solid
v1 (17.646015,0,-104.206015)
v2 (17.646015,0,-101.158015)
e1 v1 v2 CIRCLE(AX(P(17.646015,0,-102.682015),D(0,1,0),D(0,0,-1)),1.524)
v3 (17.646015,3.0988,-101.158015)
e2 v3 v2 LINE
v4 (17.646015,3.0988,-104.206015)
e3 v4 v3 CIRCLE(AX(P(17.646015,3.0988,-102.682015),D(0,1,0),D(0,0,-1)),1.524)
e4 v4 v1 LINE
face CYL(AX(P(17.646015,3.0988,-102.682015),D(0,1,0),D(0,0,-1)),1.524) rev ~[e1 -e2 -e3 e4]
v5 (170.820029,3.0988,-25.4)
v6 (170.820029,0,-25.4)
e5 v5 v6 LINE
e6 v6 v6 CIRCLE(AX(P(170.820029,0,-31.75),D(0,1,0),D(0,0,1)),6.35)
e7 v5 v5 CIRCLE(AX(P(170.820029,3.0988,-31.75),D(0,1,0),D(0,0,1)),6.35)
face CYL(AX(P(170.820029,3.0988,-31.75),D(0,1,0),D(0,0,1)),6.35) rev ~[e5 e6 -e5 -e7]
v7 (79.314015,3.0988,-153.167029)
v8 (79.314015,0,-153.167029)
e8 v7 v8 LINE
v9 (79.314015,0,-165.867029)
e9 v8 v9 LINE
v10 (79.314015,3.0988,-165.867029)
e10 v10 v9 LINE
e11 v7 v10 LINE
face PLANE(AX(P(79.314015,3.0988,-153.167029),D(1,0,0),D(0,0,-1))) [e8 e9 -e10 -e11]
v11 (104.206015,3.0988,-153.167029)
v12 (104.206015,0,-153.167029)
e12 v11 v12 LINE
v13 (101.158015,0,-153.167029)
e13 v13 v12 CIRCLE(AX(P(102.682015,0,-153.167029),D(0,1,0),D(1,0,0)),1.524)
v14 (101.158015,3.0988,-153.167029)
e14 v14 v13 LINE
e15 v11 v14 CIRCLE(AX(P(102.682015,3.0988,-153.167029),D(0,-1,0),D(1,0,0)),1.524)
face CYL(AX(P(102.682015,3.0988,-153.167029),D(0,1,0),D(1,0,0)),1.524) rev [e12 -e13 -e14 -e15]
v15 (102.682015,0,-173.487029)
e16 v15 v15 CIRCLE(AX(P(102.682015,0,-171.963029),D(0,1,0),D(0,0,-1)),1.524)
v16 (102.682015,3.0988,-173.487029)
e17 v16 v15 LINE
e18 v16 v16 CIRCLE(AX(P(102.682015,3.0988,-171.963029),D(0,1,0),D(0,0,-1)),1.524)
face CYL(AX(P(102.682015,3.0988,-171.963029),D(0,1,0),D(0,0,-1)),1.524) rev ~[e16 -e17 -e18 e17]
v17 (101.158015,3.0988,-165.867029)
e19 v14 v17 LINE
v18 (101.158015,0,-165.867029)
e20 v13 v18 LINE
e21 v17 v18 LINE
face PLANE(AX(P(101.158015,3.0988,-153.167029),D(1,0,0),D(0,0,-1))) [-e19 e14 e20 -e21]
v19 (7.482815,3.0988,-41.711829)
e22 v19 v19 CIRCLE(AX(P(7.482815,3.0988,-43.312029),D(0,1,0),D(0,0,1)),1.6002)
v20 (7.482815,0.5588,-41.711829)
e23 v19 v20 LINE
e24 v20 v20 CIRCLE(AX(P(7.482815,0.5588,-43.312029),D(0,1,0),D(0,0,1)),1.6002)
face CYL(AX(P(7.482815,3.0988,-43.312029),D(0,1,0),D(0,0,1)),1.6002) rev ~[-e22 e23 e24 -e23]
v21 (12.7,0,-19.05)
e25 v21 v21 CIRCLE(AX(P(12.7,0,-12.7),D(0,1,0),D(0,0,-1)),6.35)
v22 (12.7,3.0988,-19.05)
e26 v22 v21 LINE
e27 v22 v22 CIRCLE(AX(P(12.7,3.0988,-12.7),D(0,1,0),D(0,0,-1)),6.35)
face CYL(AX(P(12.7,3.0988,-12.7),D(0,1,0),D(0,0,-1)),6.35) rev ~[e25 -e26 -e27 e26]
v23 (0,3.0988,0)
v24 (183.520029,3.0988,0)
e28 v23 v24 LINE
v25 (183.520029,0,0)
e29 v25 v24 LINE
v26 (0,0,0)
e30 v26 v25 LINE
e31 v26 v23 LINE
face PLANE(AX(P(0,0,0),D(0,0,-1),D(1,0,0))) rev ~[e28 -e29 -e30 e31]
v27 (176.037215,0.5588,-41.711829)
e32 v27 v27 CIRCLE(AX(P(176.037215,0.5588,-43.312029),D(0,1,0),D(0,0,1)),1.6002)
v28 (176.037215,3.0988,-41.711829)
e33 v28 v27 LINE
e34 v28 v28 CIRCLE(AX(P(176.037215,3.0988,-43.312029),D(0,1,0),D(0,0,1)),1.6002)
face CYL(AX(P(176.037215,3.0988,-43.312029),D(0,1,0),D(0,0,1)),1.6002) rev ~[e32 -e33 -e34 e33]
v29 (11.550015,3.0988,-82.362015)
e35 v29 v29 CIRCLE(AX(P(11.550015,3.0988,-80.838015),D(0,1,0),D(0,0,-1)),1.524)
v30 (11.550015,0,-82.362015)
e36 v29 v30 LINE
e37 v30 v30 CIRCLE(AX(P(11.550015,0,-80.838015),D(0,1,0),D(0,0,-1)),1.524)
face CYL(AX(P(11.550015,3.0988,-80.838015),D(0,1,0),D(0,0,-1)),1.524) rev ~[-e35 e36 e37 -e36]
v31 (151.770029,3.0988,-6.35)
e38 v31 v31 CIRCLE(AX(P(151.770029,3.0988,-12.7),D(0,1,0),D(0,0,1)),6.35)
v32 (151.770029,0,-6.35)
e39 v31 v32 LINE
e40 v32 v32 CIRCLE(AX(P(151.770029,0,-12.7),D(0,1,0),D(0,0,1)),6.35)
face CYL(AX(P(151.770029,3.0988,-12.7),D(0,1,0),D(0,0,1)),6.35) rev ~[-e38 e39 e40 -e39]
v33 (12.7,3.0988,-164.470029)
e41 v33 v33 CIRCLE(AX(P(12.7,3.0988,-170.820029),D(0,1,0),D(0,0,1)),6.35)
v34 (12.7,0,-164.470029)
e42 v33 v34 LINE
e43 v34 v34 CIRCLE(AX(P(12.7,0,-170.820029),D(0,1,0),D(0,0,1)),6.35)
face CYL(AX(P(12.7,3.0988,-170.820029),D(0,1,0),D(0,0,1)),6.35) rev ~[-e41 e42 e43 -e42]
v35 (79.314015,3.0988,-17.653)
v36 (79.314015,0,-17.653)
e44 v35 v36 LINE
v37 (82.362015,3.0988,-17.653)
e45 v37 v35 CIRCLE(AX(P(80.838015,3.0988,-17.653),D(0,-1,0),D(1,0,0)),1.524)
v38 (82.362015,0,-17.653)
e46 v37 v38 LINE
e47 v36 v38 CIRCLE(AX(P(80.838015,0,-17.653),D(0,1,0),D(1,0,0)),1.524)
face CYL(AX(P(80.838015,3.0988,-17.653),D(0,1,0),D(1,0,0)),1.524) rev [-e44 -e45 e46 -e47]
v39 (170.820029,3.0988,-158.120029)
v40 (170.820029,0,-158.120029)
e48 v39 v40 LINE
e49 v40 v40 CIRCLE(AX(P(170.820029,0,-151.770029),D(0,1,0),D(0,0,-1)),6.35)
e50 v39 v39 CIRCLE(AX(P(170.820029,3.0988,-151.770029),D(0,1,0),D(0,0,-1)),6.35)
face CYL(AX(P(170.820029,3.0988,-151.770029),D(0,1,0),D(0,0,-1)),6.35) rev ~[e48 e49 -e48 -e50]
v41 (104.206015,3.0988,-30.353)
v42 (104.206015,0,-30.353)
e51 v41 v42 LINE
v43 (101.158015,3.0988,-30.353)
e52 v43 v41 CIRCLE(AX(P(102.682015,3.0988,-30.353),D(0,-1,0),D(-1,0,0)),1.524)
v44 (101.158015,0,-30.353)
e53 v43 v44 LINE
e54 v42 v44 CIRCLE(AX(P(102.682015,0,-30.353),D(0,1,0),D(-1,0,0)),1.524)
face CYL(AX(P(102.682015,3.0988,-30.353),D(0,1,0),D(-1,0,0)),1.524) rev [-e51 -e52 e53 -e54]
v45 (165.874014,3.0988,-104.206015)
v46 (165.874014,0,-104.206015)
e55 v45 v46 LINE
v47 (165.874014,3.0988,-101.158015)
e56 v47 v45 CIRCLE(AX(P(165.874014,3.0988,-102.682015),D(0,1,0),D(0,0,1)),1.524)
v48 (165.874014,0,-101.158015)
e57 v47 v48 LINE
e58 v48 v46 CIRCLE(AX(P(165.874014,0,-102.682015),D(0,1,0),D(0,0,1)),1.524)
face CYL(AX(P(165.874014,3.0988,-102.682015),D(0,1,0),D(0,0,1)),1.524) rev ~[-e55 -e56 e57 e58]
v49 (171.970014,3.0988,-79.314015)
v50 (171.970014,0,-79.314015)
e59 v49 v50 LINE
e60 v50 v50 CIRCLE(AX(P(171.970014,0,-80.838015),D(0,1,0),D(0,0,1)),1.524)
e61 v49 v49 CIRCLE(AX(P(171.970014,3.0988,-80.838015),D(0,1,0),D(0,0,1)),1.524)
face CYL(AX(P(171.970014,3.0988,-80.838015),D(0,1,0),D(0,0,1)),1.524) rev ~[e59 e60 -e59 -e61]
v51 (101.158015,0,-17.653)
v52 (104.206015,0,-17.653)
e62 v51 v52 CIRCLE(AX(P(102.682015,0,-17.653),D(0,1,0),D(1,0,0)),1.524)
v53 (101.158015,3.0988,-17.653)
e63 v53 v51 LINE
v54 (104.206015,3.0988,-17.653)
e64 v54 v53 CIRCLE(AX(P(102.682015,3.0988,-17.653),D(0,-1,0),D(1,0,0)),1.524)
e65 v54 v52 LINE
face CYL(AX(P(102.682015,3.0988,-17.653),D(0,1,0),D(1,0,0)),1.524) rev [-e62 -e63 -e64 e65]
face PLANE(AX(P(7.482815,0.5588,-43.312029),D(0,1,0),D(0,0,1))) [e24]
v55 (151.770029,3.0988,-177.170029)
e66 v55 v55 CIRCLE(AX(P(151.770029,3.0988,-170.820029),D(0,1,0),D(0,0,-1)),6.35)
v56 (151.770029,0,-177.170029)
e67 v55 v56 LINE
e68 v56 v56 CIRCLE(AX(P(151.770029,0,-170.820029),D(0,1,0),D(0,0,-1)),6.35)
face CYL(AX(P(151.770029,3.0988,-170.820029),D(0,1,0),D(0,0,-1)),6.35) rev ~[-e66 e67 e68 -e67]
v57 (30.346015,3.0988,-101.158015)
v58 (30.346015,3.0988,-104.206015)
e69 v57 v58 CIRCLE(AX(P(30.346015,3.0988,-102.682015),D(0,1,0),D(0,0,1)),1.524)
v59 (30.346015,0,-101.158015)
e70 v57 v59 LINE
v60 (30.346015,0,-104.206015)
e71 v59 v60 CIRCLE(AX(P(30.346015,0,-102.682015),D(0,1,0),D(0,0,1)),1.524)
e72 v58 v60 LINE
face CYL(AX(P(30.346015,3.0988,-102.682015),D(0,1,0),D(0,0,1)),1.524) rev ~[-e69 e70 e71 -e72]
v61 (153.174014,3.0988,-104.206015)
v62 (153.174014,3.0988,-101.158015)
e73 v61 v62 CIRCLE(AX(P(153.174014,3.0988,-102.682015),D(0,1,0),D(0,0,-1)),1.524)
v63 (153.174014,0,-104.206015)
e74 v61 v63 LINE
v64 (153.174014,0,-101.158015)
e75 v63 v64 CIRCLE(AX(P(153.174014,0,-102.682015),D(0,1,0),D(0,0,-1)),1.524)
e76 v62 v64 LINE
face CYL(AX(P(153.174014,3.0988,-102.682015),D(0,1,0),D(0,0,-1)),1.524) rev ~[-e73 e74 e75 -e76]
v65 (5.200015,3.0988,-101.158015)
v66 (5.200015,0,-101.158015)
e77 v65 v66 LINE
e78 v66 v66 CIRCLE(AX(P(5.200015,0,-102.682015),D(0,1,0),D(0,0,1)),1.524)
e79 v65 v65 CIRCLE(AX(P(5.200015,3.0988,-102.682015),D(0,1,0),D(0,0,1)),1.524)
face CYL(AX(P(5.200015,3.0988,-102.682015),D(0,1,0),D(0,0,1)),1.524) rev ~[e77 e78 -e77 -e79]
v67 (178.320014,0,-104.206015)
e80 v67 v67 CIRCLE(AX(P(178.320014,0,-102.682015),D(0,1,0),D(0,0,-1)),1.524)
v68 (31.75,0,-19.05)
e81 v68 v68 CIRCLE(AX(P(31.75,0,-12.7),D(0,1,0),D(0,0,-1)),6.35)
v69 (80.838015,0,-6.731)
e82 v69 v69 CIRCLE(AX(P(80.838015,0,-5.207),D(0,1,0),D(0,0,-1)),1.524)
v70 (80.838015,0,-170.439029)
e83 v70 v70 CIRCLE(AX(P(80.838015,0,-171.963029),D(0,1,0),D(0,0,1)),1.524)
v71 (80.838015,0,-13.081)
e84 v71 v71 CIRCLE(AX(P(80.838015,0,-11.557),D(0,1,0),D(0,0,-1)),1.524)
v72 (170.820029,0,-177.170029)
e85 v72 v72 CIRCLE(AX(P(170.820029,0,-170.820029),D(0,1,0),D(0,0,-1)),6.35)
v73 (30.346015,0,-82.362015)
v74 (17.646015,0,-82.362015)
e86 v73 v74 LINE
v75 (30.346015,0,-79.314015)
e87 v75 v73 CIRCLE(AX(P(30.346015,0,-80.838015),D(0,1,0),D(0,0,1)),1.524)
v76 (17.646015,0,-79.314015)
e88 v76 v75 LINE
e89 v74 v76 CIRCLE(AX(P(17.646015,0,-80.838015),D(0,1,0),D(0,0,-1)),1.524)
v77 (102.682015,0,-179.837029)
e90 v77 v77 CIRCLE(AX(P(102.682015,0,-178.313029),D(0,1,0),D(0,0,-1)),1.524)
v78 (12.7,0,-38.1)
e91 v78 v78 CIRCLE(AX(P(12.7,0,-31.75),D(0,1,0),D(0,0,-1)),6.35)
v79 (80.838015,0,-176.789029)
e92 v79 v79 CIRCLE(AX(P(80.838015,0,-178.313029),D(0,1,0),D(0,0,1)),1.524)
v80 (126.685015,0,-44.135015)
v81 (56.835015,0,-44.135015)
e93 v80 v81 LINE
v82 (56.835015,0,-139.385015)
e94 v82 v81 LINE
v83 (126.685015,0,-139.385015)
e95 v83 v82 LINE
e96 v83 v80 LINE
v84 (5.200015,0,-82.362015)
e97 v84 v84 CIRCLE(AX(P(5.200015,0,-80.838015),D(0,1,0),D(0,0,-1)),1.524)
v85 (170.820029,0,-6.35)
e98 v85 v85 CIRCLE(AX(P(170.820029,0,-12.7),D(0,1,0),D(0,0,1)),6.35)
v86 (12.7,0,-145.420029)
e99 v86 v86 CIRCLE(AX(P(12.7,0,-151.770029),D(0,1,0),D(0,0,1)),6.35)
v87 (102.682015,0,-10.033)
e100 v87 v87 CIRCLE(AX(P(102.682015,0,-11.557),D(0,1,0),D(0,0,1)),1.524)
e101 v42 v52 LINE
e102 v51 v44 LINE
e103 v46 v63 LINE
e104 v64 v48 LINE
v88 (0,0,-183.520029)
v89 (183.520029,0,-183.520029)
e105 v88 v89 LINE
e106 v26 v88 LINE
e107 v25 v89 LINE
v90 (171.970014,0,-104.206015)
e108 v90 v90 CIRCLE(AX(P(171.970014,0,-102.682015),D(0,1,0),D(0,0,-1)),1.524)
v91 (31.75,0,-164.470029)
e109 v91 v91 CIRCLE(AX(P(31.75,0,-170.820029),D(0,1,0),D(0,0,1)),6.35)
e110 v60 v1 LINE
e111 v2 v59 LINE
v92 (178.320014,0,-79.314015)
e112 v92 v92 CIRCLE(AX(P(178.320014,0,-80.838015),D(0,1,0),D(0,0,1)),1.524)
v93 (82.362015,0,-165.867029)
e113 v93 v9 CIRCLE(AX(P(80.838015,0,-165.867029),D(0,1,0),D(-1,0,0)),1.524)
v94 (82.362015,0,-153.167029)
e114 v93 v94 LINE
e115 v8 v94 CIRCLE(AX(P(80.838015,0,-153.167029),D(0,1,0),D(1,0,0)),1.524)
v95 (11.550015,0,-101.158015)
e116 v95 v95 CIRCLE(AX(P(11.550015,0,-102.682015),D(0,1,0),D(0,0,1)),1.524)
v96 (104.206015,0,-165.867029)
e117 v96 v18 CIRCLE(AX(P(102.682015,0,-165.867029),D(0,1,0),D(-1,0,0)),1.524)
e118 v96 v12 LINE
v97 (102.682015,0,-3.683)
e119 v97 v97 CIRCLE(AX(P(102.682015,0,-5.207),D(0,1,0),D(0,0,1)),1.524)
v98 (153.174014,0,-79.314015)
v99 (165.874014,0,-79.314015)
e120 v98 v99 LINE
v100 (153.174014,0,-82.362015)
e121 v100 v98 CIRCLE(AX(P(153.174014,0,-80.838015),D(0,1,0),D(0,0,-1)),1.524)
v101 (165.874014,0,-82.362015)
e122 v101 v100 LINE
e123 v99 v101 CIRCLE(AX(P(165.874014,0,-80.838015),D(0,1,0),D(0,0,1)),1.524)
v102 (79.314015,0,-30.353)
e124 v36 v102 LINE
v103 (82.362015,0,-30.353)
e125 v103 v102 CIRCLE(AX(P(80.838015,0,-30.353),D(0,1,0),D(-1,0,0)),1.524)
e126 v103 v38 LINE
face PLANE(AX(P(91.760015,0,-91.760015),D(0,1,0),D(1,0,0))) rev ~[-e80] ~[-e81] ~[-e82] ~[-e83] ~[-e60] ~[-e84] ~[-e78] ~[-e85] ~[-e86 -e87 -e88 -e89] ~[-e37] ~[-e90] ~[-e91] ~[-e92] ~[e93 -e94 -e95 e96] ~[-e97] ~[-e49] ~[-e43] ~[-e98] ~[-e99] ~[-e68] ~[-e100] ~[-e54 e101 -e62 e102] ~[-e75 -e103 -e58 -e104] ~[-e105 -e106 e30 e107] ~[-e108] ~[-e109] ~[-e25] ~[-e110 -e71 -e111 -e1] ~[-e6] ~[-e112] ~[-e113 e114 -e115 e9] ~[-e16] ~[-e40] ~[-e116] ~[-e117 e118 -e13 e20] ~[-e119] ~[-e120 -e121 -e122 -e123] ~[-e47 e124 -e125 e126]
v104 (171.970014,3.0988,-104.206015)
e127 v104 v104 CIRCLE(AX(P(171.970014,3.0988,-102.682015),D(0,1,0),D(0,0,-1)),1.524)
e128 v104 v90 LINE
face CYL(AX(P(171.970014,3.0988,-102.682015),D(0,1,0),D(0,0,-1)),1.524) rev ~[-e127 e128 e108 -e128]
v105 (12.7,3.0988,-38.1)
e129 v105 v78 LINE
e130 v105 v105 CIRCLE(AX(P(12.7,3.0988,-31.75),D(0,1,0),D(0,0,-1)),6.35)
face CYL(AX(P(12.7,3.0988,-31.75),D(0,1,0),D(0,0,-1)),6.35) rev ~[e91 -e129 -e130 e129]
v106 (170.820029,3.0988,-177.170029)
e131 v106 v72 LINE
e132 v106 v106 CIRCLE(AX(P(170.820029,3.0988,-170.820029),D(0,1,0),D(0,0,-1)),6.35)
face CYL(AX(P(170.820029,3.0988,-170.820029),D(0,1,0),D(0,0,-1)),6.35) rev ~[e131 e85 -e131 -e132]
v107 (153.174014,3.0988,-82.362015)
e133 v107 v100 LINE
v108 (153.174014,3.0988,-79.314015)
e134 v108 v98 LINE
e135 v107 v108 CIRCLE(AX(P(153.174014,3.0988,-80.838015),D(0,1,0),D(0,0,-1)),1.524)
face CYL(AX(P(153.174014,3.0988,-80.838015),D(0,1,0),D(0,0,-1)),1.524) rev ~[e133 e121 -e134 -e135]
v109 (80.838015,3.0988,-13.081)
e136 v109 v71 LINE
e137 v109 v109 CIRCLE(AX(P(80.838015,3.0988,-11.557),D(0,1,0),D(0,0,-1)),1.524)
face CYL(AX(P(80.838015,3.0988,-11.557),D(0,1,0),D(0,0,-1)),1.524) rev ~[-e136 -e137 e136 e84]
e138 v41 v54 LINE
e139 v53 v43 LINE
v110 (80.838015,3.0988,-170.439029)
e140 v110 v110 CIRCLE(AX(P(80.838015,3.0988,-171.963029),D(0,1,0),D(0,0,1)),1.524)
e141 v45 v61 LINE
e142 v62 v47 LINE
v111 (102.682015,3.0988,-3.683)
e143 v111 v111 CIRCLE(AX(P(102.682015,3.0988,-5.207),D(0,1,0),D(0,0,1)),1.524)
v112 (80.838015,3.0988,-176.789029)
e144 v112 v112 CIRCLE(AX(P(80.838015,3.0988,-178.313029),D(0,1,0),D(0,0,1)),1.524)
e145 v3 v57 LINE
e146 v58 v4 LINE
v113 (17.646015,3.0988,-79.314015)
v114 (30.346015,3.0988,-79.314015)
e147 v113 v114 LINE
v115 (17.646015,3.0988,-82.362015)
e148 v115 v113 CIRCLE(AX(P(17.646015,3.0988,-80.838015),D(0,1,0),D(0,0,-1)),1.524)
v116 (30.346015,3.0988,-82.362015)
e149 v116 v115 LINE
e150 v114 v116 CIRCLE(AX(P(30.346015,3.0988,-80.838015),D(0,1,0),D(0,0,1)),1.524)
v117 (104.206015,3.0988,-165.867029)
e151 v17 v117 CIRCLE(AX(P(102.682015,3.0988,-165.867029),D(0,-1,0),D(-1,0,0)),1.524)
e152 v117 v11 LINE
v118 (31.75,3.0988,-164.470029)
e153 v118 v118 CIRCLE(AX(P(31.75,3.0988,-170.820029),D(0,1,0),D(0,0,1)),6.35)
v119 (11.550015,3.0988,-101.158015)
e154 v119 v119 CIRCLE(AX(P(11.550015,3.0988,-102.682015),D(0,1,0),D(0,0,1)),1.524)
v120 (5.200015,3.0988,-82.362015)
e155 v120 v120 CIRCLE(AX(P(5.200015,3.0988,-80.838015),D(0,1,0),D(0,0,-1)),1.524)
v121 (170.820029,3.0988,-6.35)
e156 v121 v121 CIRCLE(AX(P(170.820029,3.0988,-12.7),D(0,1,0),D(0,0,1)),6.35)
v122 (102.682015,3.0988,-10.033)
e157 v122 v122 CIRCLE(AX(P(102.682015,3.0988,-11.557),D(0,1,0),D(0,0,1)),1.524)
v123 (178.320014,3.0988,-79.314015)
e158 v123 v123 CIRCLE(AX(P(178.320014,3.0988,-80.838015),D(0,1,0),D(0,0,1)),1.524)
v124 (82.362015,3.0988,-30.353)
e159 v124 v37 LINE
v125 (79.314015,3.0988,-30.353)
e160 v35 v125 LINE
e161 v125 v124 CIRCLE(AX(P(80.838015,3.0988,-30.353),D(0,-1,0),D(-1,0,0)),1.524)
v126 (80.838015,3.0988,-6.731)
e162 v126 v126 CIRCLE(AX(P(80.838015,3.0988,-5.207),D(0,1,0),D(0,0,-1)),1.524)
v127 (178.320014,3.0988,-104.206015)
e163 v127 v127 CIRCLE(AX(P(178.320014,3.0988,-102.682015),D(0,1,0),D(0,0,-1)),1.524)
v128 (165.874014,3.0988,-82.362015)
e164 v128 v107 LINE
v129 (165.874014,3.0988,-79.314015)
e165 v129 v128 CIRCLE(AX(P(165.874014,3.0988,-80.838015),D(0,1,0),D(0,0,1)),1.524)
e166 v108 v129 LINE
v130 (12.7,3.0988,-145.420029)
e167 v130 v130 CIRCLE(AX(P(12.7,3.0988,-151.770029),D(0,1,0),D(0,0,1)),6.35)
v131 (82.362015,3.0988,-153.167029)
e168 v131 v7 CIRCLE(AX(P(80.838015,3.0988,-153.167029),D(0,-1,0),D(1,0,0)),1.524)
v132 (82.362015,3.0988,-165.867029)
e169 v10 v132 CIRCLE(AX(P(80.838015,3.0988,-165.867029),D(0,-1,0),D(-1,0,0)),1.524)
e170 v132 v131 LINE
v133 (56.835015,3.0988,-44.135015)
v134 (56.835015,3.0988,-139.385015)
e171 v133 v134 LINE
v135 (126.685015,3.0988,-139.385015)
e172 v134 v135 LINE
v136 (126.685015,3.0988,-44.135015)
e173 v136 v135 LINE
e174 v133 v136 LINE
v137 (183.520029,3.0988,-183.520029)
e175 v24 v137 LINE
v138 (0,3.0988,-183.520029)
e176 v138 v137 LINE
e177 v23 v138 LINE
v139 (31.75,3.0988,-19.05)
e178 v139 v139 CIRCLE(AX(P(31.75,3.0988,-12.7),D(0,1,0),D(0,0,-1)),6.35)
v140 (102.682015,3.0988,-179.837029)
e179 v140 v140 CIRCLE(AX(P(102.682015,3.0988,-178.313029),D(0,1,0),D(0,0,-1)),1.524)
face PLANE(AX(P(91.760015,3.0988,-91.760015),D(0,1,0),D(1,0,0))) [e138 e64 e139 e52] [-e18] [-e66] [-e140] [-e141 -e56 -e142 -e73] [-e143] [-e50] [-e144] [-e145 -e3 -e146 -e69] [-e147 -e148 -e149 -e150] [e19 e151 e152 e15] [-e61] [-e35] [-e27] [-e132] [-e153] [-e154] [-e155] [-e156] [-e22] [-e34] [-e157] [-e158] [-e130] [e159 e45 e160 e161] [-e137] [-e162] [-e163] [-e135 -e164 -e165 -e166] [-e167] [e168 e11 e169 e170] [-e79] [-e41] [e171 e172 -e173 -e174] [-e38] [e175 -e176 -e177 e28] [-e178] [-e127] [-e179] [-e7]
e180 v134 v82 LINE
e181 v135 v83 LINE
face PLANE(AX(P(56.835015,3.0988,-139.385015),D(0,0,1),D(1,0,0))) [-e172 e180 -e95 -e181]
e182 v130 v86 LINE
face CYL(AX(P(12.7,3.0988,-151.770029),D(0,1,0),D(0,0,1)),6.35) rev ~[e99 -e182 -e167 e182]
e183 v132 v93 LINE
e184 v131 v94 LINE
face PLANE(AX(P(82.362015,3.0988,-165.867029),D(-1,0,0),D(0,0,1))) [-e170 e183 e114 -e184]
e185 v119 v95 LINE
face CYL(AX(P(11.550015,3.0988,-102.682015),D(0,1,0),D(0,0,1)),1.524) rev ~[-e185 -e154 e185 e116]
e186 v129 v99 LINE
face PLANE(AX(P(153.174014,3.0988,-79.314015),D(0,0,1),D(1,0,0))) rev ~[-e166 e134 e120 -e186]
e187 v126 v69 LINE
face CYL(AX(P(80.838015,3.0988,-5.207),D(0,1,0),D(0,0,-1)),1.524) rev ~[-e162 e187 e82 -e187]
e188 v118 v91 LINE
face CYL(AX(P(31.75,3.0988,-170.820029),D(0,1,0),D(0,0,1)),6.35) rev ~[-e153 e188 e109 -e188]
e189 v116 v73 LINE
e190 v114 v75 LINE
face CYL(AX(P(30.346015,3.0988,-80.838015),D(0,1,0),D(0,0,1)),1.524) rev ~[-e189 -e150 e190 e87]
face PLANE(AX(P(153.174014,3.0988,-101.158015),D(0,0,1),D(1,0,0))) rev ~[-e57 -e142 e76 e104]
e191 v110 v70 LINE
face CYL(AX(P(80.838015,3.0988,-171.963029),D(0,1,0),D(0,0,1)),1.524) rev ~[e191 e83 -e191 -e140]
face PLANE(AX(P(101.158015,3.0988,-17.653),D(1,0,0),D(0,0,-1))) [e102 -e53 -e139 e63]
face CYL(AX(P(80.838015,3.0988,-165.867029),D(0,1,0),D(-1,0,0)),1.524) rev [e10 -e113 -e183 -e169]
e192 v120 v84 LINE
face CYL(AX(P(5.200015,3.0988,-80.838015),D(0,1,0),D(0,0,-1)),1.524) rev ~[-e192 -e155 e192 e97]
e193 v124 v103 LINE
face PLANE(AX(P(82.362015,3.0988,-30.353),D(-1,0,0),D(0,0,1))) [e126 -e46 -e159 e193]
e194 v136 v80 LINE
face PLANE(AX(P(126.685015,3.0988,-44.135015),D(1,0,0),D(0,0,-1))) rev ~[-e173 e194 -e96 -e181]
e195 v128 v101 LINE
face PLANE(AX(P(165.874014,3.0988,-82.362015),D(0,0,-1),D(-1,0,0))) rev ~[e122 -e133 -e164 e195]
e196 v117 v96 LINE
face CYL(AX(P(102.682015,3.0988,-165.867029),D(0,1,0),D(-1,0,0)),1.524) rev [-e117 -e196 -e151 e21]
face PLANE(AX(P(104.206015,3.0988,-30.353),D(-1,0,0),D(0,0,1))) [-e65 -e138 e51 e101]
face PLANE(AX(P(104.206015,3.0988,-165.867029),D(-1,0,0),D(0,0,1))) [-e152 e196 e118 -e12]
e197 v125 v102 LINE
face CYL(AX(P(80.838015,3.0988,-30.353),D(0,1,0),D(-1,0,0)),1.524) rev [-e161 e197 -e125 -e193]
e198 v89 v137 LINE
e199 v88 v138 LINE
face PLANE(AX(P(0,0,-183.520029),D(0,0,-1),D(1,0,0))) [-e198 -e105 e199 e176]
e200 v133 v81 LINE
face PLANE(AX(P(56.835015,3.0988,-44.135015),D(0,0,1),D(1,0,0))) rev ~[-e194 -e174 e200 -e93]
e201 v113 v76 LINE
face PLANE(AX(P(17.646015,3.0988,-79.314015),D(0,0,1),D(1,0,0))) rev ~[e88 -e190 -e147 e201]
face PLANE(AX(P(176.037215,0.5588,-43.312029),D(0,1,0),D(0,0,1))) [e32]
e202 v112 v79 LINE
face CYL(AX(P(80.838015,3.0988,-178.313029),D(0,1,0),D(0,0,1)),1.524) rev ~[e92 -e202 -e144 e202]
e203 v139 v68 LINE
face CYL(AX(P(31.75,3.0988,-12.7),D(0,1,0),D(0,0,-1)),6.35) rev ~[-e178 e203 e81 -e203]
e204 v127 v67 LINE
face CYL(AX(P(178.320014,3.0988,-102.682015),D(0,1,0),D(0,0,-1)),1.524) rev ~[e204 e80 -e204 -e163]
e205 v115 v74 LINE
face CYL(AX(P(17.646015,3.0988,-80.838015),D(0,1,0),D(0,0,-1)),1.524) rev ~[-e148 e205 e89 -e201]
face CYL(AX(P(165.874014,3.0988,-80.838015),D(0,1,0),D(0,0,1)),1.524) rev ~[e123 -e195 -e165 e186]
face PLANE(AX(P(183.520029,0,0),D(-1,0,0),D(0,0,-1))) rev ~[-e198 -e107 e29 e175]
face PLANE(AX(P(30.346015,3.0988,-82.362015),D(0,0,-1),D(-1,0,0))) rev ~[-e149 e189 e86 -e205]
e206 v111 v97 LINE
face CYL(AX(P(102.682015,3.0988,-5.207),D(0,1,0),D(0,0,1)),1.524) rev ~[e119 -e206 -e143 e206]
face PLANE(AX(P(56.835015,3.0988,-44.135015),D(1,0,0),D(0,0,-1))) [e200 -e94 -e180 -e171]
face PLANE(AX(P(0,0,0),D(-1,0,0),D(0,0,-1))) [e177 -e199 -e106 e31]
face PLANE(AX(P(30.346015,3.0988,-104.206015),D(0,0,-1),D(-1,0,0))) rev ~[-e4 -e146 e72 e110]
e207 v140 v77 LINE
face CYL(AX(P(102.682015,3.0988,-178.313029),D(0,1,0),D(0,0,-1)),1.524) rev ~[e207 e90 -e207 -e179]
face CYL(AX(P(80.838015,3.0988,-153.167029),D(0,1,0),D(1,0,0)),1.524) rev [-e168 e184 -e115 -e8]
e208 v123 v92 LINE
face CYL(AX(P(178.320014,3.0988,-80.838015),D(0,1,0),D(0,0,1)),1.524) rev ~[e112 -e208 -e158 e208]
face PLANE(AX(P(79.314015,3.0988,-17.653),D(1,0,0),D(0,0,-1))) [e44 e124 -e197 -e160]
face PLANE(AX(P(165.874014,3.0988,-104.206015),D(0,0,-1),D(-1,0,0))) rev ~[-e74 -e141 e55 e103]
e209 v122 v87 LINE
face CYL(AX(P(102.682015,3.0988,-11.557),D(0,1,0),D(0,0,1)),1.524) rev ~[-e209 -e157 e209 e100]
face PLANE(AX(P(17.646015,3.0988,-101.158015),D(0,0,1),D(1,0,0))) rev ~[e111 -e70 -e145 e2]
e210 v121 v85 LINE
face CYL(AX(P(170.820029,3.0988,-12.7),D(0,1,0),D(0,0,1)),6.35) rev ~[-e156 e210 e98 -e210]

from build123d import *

# Parameters (mm, degrees)
SKETCH3_W           = 183.5200292
SKETCH3_H           = 183.5200292
BOSS_EXTRUDE1_DEPTH = 3.0988
SKETCH4_R           = 1.524
CUT_EXTRUDE1_DEPTH  = 260.555013045
CUT_EXTRUDE2_REACH  = 261.555
SKETCH5_R           = 6.35
SKETCH5_W           = 69.85
SKETCH5_H           = 95.25
SKETCH7_R           = 1.6002
CUT_EXTRUDE6_DEPTH  = 2.54


with BuildPart() as part:
    # Sketch3 → Boss-Extrude1 (new body)
    with BuildSketch(Plane(origin=(0, 0, 0), x_dir=(1, 0, 0), z_dir=(0, 1, 0))):
        with Locations((91.7600146, 91.7600146)):
            Rectangle(SKETCH3_W, SKETCH3_H)
    extrude(amount=BOSS_EXTRUDE1_DEPTH)

    # Sketch4 → Cut-Extrude1 (cut, through all)
    with BuildSketch(Plane(origin=(0, 3.0988, 0), x_dir=(1, 0, 0), z_dir=(0, 1, 0))):
        with Locations(Location((5.200015, 102.6820146, 0), (0, 0, 270))):
            Circle(SKETCH4_R)
        with Locations(Location((11.550015, 102.6820146, 0), (0, 0, 270))):
            Circle(SKETCH4_R)
        with Locations(Location((11.550015, 80.8380146, 0), (0, 0, 90))):
            Circle(SKETCH4_R)
        with Locations(Location((5.200015, 80.8380146, 0), (0, 0, 90))):
            Circle(SKETCH4_R)
        with Locations(Location((178.3200142, 80.8380146, 0), (0, 0, 270))):
            Circle(SKETCH4_R)
        with Locations(Location((171.9700142, 80.8380146, 0), (0, 0, 270))):
            Circle(SKETCH4_R)
        with Locations(Location((171.9700142, 102.6820146, 0), (0, 0, 90))):
            Circle(SKETCH4_R)
        with Locations(Location((178.3200142, 102.6820146, 0), (0, 0, 90))):
            Circle(SKETCH4_R)
        with Locations(Location((80.8380146, 178.3130292, 0), (0, 0, 270))):
            Circle(SKETCH4_R)
        with Locations(Location((80.8380146, 171.9630292, 0), (0, 0, 270))):
            Circle(SKETCH4_R)
        with Locations(Location((102.6820146, 171.9630292, 0), (0, 0, 90))):
            Circle(SKETCH4_R)
        with Locations(Location((102.6820146, 178.3130292, 0), (0, 0, 90))):
            Circle(SKETCH4_R)
        with Locations(Location((102.6820146, 5.207, 0), (0, 0, 270))):
            Circle(SKETCH4_R)
        with Locations(Location((102.6820146, 11.557, 0), (0, 0, 270))):
            Circle(SKETCH4_R)
        with Locations(Location((80.8380146, 11.557, 0), (0, 0, 90))):
            Circle(SKETCH4_R)
        with Locations(Location((80.8380146, 5.207, 0), (0, 0, 90))):
            Circle(SKETCH4_R)
        with BuildLine():
            Line((17.646015, 101.1580146), (30.346015, 101.1580146))
            ThreePointArc((30.346015, 101.1580146), (31.870015, 102.6820146), (30.346015, 104.2060146))
            Line((30.346015, 104.2060146), (17.646015, 104.2060146))
            ThreePointArc((17.646015, 104.2060146), (16.122015, 102.6820146), (17.646015, 101.1580146))
        make_face()
        with BuildLine():
            Line((17.646015, 79.3140146), (30.346015, 79.3140146))
            ThreePointArc((30.346015, 79.3140146), (31.870015, 80.8380146), (30.346015, 82.3620146))
            Line((30.346015, 82.3620146), (17.646015, 82.3620146))
            ThreePointArc((17.646015, 82.3620146), (16.122015, 80.8380146), (17.646015, 79.3140146))
        make_face()
        with BuildLine():
            Line((165.8740142, 82.3620146), (153.1740142, 82.3620146))
            ThreePointArc((153.1740142, 82.3620146), (151.6500142, 80.8380146), (153.1740142, 79.3140146))
            Line((153.1740142, 79.3140146), (165.8740142, 79.3140146))
            ThreePointArc((165.8740142, 79.3140146), (167.3980142, 80.8380146), (165.8740142, 82.3620146))
        make_face()
        with BuildLine():
            Line((165.8740142, 104.2060146), (153.1740142, 104.2060146))
            ThreePointArc((153.1740142, 104.2060146), (151.6500142, 102.6820146), (153.1740142, 101.1580146))
            Line((153.1740142, 101.1580146), (165.8740142, 101.1580146))
            ThreePointArc((165.8740142, 101.1580146), (167.3980142, 102.6820146), (165.8740142, 104.2060146))
        make_face()
        with BuildLine():
            Line((79.3140146, 153.1670292), (79.3140146, 165.8670292))
            ThreePointArc((79.3140146, 165.8670292), (80.8380146, 167.3910292), (82.3620146, 165.8670292))
            Line((82.3620146, 165.8670292), (82.3620146, 153.1670292))
            ThreePointArc((82.3620146, 153.1670292), (80.8380146, 151.6430292), (79.3140146, 153.1670292))
        make_face()
        with BuildLine():
            Line((101.1580146, 153.1670292), (101.1580146, 165.8670292))
            ThreePointArc((101.1580146, 165.8670292), (102.6820146, 167.3910292), (104.2060146, 165.8670292))
            Line((104.2060146, 165.8670292), (104.2060146, 153.1670292))
            ThreePointArc((104.2060146, 153.1670292), (102.6820146, 151.6430292), (101.1580146, 153.1670292))
        make_face()
        with BuildLine():
            Line((104.2060146, 30.353), (104.2060146, 17.653))
            ThreePointArc((104.2060146, 17.653), (102.6820146, 16.129), (101.1580146, 17.653))
            Line((101.1580146, 17.653), (101.1580146, 30.353))
            ThreePointArc((101.1580146, 30.353), (102.6820146, 31.877), (104.2060146, 30.353))
        make_face()
        with BuildLine():
            Line((82.3620146, 30.353), (82.3620146, 17.653))
            ThreePointArc((82.3620146, 17.653), (80.8380146, 16.129), (79.3140146, 17.653))
            Line((79.3140146, 17.653), (79.3140146, 30.353))
            ThreePointArc((79.3140146, 30.353), (80.8380146, 31.877), (82.3620146, 30.353))
        make_face()
    extrude(amount=-CUT_EXTRUDE1_DEPTH, mode=Mode.SUBTRACT)

    # Sketch5 → Cut-Extrude2 (cut, up to next)
    with BuildSketch(Plane(origin=(0, 3.0988, 0), x_dir=(1, 0, 0), z_dir=(0, 1, 0)), mode=Mode.PRIVATE) as cut_extrude2_sk1:
        with Locations(Location((170.8200292, 151.7700292, 0), (0, 0, 90))):
            Circle(SKETCH5_R)
    cut_extrude2_tool1 = extrude(cut_extrude2_sk1.sketch, amount=-CUT_EXTRUDE2_REACH, mode=Mode.PRIVATE) & part.part
    # Sketch5 → Cut-Extrude2 (cut, up to next)
    with BuildSketch(Plane(origin=(0, 3.0988, 0), x_dir=(1, 0, 0), z_dir=(0, 1, 0)), mode=Mode.PRIVATE) as cut_extrude2_sk2:
        with Locations(Location((170.8200292, 170.8200292, 0), (0, 0, 90))):
            Circle(SKETCH5_R)
    cut_extrude2_tool2 = extrude(cut_extrude2_sk2.sketch, amount=-CUT_EXTRUDE2_REACH, mode=Mode.PRIVATE) & part.part
    # Sketch5 → Cut-Extrude2 (cut, up to next)
    with BuildSketch(Plane(origin=(0, 3.0988, 0), x_dir=(1, 0, 0), z_dir=(0, 1, 0)), mode=Mode.PRIVATE) as cut_extrude2_sk3:
        with Locations(Location((151.7700292, 170.8200292, 0), (0, 0, 90))):
            Circle(SKETCH5_R)
    cut_extrude2_tool3 = extrude(cut_extrude2_sk3.sketch, amount=-CUT_EXTRUDE2_REACH, mode=Mode.PRIVATE) & part.part
    # Sketch5 → Cut-Extrude2 (cut, up to next)
    with BuildSketch(Plane(origin=(0, 3.0988, 0), x_dir=(1, 0, 0), z_dir=(0, 1, 0)), mode=Mode.PRIVATE) as cut_extrude2_sk4:
        with Locations(Location((170.8200292, 31.75, 0), (0, 0, 270))):
            Circle(SKETCH5_R)
    cut_extrude2_tool4 = extrude(cut_extrude2_sk4.sketch, amount=-CUT_EXTRUDE2_REACH, mode=Mode.PRIVATE) & part.part
    # Sketch5 → Cut-Extrude2 (cut, up to next)
    with BuildSketch(Plane(origin=(0, 3.0988, 0), x_dir=(1, 0, 0), z_dir=(0, 1, 0)), mode=Mode.PRIVATE) as cut_extrude2_sk5:
        with Locations(Location((12.7, 31.75, 0), (0, 0, 90))):
            Circle(SKETCH5_R)
    cut_extrude2_tool5 = extrude(cut_extrude2_sk5.sketch, amount=-CUT_EXTRUDE2_REACH, mode=Mode.PRIVATE) & part.part
    # Sketch5 → Cut-Extrude2 (cut, up to next)
    with BuildSketch(Plane(origin=(0, 3.0988, 0), x_dir=(1, 0, 0), z_dir=(0, 1, 0)), mode=Mode.PRIVATE) as cut_extrude2_sk6:
        with Locations(Location((12.7, 12.7, 0), (0, 0, 90))):
            Circle(SKETCH5_R)
    cut_extrude2_tool6 = extrude(cut_extrude2_sk6.sketch, amount=-CUT_EXTRUDE2_REACH, mode=Mode.PRIVATE) & part.part
    # Sketch5 → Cut-Extrude2 (cut, up to next)
    with BuildSketch(Plane(origin=(0, 3.0988, 0), x_dir=(1, 0, 0), z_dir=(0, 1, 0)), mode=Mode.PRIVATE) as cut_extrude2_sk7:
        with Locations(Location((31.75, 12.7, 0), (0, 0, 90))):
            Circle(SKETCH5_R)
    cut_extrude2_tool7 = extrude(cut_extrude2_sk7.sketch, amount=-CUT_EXTRUDE2_REACH, mode=Mode.PRIVATE) & part.part
    # Sketch5 → Cut-Extrude2 (cut, up to next)
    with BuildSketch(Plane(origin=(0, 3.0988, 0), x_dir=(1, 0, 0), z_dir=(0, 1, 0)), mode=Mode.PRIVATE) as cut_extrude2_sk8:
        with Locations(Location((151.7700292, 12.7, 0), (0, 0, 270))):
            Circle(SKETCH5_R)
    cut_extrude2_tool8 = extrude(cut_extrude2_sk8.sketch, amount=-CUT_EXTRUDE2_REACH, mode=Mode.PRIVATE) & part.part
    # Sketch5 → Cut-Extrude2 (cut, up to next)
    with BuildSketch(Plane(origin=(0, 3.0988, 0), x_dir=(1, 0, 0), z_dir=(0, 1, 0)), mode=Mode.PRIVATE) as cut_extrude2_sk9:
        with Locations(Location((31.75, 170.8200292, 0), (0, 0, 270))):
            Circle(SKETCH5_R)
    cut_extrude2_tool9 = extrude(cut_extrude2_sk9.sketch, amount=-CUT_EXTRUDE2_REACH, mode=Mode.PRIVATE) & part.part
    # Sketch5 → Cut-Extrude2 (cut, up to next)
    with BuildSketch(Plane(origin=(0, 3.0988, 0), x_dir=(1, 0, 0), z_dir=(0, 1, 0)), mode=Mode.PRIVATE) as cut_extrude2_sk10:
        with Locations(Location((12.7, 170.8200292, 0), (0, 0, 270))):
            Circle(SKETCH5_R)
    cut_extrude2_tool10 = extrude(cut_extrude2_sk10.sketch, amount=-CUT_EXTRUDE2_REACH, mode=Mode.PRIVATE) & part.part
    # Sketch5 → Cut-Extrude2 (cut, up to next)
    with BuildSketch(Plane(origin=(0, 3.0988, 0), x_dir=(1, 0, 0), z_dir=(0, 1, 0)), mode=Mode.PRIVATE) as cut_extrude2_sk11:
        with Locations(Location((12.7, 151.7700292, 0), (0, 0, 270))):
            Circle(SKETCH5_R)
    cut_extrude2_tool11 = extrude(cut_extrude2_sk11.sketch, amount=-CUT_EXTRUDE2_REACH, mode=Mode.PRIVATE) & part.part
    # Sketch5 → Cut-Extrude2 (cut, up to next)
    with BuildSketch(Plane(origin=(0, 3.0988, 0), x_dir=(1, 0, 0), z_dir=(0, 1, 0)), mode=Mode.PRIVATE) as cut_extrude2_sk12:
        with Locations(Location((170.8200292, 12.7, 0), (0, 0, 270))):
            Circle(SKETCH5_R)
    cut_extrude2_tool12 = extrude(cut_extrude2_sk12.sketch, amount=-CUT_EXTRUDE2_REACH, mode=Mode.PRIVATE) & part.part
    # Sketch5 → Cut-Extrude2 (cut, up to next)
    with BuildSketch(Plane(origin=(0, 3.0988, 0), x_dir=(1, 0, 0), z_dir=(0, 1, 0)), mode=Mode.PRIVATE) as cut_extrude2_sk13:
        with Locations((91.7600146, 91.7600146)):
            Rectangle(SKETCH5_W, SKETCH5_H)
    cut_extrude2_tool13 = extrude(cut_extrude2_sk13.sketch, amount=-CUT_EXTRUDE2_REACH, mode=Mode.PRIVATE) & part.part
    add(cut_extrude2_tool1.solids().sort_by_distance((170.820029, 3.0988, -151.770029))[0], mode=Mode.SUBTRACT)
    add(cut_extrude2_tool2.solids().sort_by_distance((170.820029, 3.0988, -170.820029))[0], mode=Mode.SUBTRACT)
    add(cut_extrude2_tool3.solids().sort_by_distance((151.770029, 3.0988, -170.820029))[0], mode=Mode.SUBTRACT)
    add(cut_extrude2_tool4.solids().sort_by_distance((170.820029, 3.0988, -31.75))[0], mode=Mode.SUBTRACT)
    add(cut_extrude2_tool5.solids().sort_by_distance((12.7, 3.0988, -31.75))[0], mode=Mode.SUBTRACT)
    add(cut_extrude2_tool6.solids().sort_by_distance((12.7, 3.0988, -12.7))[0], mode=Mode.SUBTRACT)
    add(cut_extrude2_tool7.solids().sort_by_distance((31.75, 3.0988, -12.7))[0], mode=Mode.SUBTRACT)
    add(cut_extrude2_tool8.solids().sort_by_distance((151.770029, 3.0988, -12.7))[0], mode=Mode.SUBTRACT)
    add(cut_extrude2_tool9.solids().sort_by_distance((31.75, 3.0988, -170.820029))[0], mode=Mode.SUBTRACT)
    add(cut_extrude2_tool10.solids().sort_by_distance((12.7, 3.0988, -170.820029))[0], mode=Mode.SUBTRACT)
    add(cut_extrude2_tool11.solids().sort_by_distance((12.7, 3.0988, -151.770029))[0], mode=Mode.SUBTRACT)
    add(cut_extrude2_tool12.solids().sort_by_distance((170.820029, 3.0988, -12.7))[0], mode=Mode.SUBTRACT)
    add(cut_extrude2_tool13.solids().sort_by_distance((91.760015, 3.0988, -91.760015))[0], mode=Mode.SUBTRACT)

    # Sketch7 → Cut-Extrude6 (cut)
    with BuildSketch(Plane(origin=(0, 3.0988, 0), x_dir=(1, 0, 0), z_dir=(0, 1, 0))):
        with Locations(Location((7.4828146, 43.3120292, 0), (0, 0, 270))):
            Circle(SKETCH7_R)
        with Locations(Location((176.0372146, 43.3120292, 0), (0, 0, 270))):
            Circle(SKETCH7_R)
    extrude(amount=-CUT_EXTRUDE6_DEPTH, mode=Mode.SUBTRACT)


solid = part.part
